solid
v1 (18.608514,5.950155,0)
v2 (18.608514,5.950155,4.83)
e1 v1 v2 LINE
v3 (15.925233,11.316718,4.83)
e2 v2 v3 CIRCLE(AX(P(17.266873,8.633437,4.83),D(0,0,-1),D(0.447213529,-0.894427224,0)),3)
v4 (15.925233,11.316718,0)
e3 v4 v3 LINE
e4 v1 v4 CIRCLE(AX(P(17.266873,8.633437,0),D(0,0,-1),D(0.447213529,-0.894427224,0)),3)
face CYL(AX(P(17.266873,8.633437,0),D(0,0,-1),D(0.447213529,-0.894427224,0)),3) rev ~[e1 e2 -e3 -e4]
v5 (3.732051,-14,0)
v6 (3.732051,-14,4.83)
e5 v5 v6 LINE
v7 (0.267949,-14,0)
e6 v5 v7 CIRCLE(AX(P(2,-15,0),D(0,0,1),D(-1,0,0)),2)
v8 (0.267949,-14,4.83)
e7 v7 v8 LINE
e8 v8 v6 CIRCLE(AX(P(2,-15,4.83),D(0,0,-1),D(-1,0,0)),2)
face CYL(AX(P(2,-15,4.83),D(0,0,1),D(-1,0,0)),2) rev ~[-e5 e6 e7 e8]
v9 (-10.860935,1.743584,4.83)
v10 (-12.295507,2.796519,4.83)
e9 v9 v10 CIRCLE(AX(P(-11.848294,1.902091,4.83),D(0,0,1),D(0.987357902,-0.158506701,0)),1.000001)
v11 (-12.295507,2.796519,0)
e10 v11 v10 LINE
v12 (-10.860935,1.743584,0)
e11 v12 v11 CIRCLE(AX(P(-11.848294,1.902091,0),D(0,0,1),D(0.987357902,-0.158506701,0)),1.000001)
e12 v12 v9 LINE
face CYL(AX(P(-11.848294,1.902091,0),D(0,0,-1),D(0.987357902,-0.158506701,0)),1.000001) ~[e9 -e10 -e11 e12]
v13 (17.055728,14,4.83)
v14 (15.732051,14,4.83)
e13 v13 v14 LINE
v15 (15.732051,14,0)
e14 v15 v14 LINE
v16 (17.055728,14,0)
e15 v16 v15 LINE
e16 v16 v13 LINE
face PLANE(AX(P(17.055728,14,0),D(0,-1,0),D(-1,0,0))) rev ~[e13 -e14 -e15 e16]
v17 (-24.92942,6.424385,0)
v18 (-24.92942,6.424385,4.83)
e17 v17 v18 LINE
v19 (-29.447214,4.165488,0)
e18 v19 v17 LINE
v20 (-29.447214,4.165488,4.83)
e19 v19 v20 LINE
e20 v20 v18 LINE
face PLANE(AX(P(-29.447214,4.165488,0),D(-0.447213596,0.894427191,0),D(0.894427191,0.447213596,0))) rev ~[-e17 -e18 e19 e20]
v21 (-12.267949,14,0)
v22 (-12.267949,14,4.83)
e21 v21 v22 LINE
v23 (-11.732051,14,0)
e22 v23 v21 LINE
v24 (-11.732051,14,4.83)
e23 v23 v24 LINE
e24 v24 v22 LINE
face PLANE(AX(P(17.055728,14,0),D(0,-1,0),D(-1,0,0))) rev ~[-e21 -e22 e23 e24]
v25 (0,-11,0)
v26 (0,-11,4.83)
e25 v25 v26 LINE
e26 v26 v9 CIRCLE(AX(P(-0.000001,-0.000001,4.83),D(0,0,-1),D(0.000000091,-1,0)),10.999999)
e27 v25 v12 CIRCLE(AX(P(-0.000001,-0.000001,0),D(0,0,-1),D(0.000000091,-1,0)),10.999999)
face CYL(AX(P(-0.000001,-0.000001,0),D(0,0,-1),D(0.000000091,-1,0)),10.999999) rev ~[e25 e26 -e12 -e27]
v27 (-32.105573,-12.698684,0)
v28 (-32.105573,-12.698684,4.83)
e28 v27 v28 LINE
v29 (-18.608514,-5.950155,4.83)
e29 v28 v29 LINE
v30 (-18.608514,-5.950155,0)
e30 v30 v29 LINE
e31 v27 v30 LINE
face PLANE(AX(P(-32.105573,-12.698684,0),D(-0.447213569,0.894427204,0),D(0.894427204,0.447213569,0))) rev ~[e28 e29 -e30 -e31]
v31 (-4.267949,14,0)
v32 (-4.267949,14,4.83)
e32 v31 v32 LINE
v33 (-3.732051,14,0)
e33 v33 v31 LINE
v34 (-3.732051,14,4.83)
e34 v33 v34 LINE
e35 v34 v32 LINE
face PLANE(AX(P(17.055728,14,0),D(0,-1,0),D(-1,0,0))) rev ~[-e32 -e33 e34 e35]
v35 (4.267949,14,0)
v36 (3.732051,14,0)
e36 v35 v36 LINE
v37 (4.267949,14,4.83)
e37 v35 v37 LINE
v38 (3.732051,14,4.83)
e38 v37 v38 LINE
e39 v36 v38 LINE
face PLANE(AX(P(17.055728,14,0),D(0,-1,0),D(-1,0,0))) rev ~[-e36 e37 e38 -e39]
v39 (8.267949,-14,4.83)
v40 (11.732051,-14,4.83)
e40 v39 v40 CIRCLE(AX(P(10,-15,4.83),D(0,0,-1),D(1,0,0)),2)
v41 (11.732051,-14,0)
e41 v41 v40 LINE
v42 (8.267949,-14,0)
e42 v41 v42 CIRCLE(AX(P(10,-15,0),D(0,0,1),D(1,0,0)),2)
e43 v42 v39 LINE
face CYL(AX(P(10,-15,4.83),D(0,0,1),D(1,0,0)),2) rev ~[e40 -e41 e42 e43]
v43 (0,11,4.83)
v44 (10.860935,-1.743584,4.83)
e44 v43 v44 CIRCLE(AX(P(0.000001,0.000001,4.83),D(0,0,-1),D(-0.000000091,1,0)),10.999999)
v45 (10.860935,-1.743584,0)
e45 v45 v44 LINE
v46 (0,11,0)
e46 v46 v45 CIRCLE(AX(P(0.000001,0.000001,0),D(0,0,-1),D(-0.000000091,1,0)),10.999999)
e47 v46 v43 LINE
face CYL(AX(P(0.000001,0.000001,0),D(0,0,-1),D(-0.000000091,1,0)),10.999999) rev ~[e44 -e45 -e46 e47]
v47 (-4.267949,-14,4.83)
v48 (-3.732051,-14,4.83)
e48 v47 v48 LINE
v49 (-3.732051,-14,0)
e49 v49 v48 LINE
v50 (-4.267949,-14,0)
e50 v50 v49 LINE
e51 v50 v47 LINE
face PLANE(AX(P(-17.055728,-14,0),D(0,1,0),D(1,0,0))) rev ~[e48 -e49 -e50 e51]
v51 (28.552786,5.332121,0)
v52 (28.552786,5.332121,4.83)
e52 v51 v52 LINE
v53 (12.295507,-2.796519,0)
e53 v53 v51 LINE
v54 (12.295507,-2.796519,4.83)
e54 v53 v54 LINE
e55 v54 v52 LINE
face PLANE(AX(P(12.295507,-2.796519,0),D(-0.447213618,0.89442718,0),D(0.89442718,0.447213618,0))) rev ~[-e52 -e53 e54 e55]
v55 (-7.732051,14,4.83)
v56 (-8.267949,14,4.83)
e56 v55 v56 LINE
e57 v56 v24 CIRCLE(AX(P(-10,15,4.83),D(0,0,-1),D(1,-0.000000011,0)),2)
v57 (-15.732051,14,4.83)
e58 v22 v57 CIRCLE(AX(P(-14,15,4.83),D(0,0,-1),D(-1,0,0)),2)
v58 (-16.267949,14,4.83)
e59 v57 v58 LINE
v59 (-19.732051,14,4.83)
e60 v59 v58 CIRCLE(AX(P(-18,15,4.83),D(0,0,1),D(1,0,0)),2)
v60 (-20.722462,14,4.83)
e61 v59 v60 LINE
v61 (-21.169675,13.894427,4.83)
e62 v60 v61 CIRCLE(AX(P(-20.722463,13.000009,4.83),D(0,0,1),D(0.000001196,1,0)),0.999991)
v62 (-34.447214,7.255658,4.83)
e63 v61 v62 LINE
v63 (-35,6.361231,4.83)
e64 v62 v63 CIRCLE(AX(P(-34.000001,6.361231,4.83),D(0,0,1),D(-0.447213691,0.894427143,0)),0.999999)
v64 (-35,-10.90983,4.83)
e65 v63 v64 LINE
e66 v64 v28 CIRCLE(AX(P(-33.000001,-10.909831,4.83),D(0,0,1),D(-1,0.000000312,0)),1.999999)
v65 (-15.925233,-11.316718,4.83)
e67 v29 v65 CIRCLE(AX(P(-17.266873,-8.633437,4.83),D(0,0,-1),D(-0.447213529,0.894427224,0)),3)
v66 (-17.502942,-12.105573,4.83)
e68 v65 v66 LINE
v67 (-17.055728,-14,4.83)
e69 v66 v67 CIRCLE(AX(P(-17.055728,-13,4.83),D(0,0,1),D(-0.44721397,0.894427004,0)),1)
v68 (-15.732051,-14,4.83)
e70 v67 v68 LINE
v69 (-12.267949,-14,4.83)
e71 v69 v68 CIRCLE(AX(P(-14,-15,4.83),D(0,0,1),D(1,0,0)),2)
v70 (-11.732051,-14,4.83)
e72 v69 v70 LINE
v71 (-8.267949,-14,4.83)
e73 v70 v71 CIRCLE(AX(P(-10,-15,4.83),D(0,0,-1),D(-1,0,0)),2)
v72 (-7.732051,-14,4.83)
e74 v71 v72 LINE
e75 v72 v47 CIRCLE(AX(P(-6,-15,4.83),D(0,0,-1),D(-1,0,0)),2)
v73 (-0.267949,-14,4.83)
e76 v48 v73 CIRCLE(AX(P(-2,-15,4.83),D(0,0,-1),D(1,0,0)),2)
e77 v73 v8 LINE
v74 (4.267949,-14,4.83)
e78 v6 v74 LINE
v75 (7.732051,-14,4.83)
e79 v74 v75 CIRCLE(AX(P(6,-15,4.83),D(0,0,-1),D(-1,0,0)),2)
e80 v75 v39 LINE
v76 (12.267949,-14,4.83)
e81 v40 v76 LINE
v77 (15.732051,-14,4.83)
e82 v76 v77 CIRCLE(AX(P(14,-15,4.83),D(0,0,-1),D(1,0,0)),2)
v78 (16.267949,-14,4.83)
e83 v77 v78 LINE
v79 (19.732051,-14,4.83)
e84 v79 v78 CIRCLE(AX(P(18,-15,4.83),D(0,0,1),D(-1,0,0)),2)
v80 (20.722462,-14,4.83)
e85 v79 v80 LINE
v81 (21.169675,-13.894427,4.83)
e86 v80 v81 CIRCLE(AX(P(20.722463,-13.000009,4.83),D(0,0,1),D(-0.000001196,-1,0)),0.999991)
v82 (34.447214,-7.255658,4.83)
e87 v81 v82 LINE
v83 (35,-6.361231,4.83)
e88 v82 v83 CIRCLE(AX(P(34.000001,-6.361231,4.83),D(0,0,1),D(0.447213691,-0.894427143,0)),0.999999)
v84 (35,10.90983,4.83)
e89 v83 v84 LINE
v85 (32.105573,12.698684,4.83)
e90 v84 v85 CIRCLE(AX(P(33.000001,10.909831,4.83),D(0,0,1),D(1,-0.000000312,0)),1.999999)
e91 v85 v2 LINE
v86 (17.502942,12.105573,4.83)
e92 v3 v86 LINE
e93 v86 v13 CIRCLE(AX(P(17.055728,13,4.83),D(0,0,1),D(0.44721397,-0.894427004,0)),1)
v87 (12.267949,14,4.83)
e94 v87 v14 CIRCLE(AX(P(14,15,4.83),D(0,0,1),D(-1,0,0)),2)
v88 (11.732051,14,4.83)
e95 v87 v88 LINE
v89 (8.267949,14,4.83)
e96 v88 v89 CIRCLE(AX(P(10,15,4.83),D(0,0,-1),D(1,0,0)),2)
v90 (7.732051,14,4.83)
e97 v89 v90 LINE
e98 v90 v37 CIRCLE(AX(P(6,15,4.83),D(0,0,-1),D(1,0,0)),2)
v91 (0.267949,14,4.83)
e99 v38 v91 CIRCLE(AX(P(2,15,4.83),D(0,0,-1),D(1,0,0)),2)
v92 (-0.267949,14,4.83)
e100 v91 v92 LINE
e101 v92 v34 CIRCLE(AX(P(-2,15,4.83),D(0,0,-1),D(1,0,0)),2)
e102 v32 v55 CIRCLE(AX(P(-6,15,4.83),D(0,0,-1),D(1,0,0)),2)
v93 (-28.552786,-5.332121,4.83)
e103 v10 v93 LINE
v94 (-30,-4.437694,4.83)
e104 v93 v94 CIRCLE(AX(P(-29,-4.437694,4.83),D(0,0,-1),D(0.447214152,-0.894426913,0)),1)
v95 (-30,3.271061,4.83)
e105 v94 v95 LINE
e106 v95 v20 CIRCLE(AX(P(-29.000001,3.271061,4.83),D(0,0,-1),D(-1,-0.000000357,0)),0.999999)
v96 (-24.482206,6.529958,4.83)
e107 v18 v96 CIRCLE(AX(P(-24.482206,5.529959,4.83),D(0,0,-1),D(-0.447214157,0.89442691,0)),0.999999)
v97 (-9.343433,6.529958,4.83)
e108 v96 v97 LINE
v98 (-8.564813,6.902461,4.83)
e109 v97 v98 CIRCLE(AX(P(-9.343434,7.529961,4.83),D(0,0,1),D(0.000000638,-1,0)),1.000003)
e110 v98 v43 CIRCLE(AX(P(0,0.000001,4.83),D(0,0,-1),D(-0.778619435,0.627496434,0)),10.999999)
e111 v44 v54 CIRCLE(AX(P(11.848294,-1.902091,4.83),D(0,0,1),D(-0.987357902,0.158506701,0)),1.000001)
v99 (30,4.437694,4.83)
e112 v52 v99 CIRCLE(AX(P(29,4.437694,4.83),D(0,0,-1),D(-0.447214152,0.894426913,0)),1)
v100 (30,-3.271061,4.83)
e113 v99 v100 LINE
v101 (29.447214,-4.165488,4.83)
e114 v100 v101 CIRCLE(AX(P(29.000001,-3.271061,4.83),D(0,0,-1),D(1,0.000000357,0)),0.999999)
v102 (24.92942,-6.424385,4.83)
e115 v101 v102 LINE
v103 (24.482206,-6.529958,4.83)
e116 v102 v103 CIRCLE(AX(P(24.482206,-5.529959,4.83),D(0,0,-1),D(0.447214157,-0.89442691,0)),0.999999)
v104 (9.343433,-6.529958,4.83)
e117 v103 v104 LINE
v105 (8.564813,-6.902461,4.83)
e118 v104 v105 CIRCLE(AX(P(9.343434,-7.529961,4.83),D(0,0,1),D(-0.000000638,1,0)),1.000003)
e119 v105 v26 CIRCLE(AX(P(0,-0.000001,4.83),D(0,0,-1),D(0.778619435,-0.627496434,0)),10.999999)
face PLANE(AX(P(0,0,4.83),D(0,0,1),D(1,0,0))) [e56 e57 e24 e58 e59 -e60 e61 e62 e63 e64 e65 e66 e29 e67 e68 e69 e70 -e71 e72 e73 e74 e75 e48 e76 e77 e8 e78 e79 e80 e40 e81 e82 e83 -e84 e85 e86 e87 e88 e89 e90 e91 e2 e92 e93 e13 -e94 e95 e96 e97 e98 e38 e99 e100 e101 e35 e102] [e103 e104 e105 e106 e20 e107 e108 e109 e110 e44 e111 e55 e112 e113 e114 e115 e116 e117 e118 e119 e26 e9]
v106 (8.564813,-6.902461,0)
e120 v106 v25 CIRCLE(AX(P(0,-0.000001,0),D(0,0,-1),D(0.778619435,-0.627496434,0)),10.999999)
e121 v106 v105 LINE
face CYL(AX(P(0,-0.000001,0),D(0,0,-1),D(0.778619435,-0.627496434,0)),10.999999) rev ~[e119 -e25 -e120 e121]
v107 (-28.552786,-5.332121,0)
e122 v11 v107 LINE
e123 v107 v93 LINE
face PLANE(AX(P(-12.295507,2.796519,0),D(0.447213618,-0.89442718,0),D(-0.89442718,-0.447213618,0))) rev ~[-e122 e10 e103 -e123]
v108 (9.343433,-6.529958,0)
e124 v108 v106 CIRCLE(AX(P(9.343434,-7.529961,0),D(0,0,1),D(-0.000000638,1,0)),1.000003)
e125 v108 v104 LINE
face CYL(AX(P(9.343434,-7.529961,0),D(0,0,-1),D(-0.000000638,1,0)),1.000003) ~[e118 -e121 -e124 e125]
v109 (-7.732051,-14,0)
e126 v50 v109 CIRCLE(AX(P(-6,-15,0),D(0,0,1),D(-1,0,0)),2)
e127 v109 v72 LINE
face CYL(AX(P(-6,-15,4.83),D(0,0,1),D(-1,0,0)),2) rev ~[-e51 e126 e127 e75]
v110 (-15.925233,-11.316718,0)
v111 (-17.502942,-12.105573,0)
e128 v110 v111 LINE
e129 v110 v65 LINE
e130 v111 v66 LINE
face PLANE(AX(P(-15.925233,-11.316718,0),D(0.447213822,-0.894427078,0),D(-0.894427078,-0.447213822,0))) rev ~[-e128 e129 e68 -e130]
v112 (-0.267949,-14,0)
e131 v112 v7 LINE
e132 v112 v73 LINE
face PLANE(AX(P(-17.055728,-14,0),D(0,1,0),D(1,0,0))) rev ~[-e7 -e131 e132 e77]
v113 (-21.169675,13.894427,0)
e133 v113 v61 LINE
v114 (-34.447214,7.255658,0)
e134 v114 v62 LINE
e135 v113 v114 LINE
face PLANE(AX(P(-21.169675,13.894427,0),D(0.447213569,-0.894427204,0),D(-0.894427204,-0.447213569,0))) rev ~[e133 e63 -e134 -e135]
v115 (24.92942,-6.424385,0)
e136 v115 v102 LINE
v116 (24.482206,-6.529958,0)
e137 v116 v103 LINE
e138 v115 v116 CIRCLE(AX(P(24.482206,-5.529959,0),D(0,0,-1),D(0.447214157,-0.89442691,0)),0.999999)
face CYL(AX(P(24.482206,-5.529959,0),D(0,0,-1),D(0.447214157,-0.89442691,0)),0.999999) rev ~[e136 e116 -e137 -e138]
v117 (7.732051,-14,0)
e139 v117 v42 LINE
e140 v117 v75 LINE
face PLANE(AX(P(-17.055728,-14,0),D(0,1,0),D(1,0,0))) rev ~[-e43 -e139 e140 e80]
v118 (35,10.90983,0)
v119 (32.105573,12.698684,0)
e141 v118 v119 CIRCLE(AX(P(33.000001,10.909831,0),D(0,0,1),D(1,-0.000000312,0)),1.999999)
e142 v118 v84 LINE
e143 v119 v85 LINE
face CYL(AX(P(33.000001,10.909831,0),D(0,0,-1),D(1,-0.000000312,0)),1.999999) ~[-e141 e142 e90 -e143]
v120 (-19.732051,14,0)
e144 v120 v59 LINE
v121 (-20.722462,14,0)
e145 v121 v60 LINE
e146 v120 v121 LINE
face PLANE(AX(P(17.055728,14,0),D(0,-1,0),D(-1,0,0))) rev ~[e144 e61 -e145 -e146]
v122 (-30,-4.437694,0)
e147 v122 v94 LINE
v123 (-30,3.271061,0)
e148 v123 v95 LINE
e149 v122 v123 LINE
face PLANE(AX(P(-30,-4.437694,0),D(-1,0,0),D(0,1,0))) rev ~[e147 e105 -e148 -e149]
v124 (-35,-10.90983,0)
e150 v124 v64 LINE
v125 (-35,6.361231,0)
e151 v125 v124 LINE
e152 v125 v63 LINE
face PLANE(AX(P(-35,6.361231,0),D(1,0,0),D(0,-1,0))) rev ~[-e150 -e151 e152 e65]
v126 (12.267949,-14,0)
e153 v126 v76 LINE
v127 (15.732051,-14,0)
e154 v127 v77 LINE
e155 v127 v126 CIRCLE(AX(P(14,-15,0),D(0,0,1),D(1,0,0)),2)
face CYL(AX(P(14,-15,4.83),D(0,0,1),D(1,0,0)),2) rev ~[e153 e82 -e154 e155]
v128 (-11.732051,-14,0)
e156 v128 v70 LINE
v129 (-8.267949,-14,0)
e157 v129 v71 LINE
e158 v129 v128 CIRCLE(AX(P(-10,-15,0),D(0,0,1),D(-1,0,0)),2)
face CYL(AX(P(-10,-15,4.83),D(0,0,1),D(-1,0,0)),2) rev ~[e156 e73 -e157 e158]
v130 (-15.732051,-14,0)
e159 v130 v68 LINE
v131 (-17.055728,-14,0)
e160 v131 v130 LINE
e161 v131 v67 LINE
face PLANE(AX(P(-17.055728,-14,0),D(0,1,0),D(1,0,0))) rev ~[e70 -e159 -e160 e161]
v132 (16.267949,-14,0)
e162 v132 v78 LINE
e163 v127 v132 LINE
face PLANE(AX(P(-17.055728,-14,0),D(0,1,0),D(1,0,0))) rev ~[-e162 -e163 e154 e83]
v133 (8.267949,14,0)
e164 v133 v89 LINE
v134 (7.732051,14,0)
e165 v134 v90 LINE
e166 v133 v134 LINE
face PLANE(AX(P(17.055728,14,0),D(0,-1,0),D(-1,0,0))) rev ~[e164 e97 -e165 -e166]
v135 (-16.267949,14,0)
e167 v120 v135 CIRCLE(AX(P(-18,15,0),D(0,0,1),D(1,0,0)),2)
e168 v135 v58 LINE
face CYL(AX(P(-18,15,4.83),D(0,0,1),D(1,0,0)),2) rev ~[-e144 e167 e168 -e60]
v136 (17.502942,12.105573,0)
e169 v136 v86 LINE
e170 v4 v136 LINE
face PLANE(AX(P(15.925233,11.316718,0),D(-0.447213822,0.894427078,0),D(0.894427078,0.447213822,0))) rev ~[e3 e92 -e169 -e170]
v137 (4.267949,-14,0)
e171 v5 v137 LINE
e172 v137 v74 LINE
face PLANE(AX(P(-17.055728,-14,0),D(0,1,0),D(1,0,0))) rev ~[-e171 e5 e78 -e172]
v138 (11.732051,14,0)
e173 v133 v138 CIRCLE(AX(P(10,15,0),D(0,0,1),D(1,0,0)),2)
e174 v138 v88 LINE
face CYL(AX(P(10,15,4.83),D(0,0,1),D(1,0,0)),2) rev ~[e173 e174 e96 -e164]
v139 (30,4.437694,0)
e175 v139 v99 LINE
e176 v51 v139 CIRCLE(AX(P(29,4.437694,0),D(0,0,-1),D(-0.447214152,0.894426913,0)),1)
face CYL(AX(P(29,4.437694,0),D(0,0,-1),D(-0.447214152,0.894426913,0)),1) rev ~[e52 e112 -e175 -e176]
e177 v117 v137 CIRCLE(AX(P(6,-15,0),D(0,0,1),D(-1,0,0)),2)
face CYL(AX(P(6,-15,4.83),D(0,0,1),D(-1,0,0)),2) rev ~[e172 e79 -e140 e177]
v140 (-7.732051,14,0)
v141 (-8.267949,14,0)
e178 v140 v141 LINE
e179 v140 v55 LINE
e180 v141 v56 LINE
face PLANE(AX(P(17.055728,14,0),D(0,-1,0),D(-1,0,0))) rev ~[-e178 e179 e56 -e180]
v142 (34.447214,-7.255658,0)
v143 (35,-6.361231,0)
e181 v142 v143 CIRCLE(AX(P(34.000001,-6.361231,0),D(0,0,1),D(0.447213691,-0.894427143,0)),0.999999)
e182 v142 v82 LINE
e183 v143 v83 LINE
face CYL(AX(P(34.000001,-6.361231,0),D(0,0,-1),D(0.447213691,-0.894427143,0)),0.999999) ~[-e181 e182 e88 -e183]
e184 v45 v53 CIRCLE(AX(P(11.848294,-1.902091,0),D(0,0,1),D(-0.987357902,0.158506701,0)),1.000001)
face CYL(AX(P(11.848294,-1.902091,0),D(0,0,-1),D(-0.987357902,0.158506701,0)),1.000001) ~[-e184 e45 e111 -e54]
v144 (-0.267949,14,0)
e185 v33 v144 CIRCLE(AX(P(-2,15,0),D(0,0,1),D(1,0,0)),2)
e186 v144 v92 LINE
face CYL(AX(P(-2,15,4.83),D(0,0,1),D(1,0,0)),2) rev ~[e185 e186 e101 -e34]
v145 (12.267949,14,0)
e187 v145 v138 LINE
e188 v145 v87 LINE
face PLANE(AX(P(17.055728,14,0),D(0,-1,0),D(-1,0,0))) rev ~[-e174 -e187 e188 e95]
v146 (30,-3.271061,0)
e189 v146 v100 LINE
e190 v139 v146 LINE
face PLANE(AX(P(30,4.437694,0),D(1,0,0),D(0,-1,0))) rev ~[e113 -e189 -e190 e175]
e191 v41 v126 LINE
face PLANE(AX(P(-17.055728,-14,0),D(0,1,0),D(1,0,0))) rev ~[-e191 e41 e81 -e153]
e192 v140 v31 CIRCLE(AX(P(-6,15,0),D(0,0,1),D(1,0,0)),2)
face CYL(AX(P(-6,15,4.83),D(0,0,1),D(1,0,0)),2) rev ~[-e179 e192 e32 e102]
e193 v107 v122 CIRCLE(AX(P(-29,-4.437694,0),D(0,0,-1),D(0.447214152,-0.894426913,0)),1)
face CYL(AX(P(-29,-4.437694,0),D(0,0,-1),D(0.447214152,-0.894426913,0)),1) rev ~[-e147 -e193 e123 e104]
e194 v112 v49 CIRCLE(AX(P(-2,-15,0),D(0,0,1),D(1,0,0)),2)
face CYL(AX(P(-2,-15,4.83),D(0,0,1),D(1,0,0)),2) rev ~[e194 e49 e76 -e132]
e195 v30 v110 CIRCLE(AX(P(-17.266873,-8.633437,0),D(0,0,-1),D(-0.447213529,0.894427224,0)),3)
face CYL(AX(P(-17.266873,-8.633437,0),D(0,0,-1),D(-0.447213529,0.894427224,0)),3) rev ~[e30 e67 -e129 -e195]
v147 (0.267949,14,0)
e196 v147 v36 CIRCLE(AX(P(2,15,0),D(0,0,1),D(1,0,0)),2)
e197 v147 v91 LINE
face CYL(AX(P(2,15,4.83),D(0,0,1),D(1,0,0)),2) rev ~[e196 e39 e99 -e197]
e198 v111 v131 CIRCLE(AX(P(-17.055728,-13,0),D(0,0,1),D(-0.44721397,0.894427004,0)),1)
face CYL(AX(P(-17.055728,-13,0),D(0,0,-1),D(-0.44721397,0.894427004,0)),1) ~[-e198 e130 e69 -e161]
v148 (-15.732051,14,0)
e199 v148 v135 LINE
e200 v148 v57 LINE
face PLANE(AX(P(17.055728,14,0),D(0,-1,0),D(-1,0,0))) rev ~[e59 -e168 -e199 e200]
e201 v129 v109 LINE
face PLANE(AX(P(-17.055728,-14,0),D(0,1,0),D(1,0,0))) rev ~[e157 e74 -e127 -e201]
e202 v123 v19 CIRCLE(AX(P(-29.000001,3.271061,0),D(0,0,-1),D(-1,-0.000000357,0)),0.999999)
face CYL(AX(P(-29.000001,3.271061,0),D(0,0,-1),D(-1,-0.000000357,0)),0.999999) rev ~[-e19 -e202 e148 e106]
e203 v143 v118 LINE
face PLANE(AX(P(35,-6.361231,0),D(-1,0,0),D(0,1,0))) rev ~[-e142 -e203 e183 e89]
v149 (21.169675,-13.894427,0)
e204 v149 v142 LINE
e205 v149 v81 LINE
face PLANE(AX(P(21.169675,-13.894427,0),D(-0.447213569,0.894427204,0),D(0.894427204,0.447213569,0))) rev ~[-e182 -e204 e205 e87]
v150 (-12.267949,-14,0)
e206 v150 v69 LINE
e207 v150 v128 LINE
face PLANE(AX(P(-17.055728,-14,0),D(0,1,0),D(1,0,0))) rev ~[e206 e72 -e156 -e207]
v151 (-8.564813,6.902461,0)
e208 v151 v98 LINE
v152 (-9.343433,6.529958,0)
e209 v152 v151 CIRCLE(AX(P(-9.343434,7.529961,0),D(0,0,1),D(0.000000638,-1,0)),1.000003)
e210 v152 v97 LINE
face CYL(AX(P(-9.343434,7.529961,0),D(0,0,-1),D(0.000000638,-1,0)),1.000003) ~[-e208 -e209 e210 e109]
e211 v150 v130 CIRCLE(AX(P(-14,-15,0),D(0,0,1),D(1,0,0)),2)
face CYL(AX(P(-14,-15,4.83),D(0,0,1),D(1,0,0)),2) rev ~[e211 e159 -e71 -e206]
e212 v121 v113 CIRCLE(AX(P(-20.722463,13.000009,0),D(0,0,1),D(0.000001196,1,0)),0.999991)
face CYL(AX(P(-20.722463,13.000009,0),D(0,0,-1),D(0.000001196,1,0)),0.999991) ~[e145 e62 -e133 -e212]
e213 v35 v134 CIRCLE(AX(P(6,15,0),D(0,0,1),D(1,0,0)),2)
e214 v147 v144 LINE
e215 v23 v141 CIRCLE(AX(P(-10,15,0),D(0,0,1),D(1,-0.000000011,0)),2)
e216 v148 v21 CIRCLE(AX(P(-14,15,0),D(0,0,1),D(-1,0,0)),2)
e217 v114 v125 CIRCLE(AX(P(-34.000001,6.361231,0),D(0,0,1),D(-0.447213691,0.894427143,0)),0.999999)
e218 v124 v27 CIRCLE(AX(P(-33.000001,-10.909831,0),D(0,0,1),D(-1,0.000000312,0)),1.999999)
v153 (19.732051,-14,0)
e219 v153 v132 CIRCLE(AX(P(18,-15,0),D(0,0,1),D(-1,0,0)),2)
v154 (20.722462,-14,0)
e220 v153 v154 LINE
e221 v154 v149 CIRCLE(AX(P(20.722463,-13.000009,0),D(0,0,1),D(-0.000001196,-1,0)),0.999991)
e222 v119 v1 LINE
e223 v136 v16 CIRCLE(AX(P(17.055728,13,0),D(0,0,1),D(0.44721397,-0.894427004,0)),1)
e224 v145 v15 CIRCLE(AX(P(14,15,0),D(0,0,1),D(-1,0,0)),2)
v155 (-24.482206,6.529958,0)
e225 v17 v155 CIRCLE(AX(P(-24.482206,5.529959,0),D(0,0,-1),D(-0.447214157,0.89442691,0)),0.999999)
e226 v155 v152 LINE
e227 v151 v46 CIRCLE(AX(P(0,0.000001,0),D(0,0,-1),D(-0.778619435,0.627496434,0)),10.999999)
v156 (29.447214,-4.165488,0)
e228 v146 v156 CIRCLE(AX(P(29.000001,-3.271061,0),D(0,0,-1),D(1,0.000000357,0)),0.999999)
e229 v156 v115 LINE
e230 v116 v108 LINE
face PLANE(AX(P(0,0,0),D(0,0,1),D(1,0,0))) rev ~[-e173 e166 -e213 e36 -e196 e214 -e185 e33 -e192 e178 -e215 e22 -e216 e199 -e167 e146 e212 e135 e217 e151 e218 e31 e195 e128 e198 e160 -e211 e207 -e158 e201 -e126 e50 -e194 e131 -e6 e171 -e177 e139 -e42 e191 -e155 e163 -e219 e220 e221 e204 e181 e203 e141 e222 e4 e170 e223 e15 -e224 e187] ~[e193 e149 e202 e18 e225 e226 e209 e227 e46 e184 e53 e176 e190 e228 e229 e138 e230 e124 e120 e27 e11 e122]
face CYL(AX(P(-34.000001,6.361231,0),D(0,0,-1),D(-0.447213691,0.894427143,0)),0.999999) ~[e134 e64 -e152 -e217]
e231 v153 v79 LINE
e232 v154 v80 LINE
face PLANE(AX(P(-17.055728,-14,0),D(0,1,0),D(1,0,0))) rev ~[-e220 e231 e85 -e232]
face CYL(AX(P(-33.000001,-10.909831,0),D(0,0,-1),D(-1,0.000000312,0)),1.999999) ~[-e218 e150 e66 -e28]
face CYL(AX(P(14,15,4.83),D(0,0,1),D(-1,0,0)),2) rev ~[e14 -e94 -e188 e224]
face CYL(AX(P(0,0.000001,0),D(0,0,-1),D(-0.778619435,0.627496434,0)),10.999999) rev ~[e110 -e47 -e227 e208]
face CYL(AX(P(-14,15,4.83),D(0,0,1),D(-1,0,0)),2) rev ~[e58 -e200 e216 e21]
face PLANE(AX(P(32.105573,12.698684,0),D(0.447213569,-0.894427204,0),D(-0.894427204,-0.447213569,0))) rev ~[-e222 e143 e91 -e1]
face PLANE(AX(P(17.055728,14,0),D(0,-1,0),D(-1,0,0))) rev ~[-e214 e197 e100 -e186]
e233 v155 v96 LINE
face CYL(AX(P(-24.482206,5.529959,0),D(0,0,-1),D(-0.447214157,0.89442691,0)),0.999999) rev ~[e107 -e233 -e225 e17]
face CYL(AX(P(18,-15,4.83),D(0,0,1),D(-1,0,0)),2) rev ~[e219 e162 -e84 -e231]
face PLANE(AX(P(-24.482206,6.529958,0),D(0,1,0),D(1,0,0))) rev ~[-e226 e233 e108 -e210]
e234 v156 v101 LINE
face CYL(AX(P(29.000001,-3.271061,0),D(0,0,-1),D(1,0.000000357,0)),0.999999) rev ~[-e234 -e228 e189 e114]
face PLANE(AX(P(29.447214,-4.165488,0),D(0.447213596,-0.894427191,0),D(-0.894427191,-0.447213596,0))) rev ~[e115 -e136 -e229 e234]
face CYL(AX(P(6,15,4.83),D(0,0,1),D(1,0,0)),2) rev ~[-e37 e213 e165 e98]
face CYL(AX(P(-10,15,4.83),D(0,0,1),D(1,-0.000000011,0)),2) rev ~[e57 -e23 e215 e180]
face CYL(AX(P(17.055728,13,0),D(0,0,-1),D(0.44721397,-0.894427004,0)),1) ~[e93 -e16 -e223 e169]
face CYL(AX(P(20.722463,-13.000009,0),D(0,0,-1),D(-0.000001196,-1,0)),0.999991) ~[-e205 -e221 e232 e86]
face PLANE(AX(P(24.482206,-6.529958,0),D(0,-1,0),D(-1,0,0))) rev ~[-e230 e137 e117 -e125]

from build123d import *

# Parameters (mm, degrees)
F1_DEPTH = 4.83
F2_R     = 2
F3_DEPTH = 25


with BuildPart() as f1:
    # F0 (on Top) → F1 (new body)
    with BuildSketch(Plane.XY):
        with BuildLine():
            Line((-17.055728, -14), (0, -14))
            Line((0, -14), (20.722462, -14))
            ThreePointArc((20.722462, -14), (20.952215, -13.973249), (21.169675, -13.894427))
            Line((21.169675, -13.894427), (34.447214, -7.255658))
            ThreePointArc((34.447214, -7.255658), (34.850651, -6.886962), (35, -6.361231))
            Line((35, -6.361231), (35, 10.90983))
            ThreePointArc((35, 10.90983), (34.051462, 12.611132), (32.105573, 12.698684))
            Line((32.105573, 12.698684), (18.608514, 5.950155))
            ThreePointArc((18.608514, 5.950155), (14.583592, 7.291796), (15.925233, 11.316718))
            Line((15.925233, 11.316718), (17.502942, 12.105573))
            ThreePointArc((17.502942, 12.105573), (18.028977, 13.229753), (17.055728, 14))
            Line((17.055728, 14), (0, 14))
            Line((0, 14), (-20.722462, 14))
            ThreePointArc((-20.722462, 14), (-20.952215, 13.973249), (-21.169675, 13.894427))
            Line((-21.169675, 13.894427), (-34.447214, 7.255658))
            ThreePointArc((-34.447214, 7.255658), (-34.850651, 6.886962), (-35, 6.361231))
            Line((-35, 6.361231), (-35, -10.90983))
            ThreePointArc((-35, -10.90983), (-34.051462, -12.611132), (-32.105573, -12.698684))
            Line((-32.105573, -12.698684), (-18.608514, -5.950155))
            ThreePointArc((-18.608514, -5.950155), (-14.583592, -7.291796), (-15.925233, -11.316718))
            Line((-15.925233, -11.316718), (-17.502942, -12.105573))
            ThreePointArc((-17.502942, -12.105573), (-18.028977, -13.229753), (-17.055728, -14))
        make_face()
        with BuildLine():
            ThreePointArc((0, -11), (-8.37196, -7.135145), (-10.860935, 1.743584))
            ThreePointArc((-10.860935, 1.743584), (-11.256595, 2.708251), (-12.295507, 2.796519))
            Line((-12.295507, 2.796519), (-28.552786, -5.332121))
            ThreePointArc((-28.552786, -5.332121), (-29.525731, -5.288345), (-30, -4.437694))
            Line((-30, -4.437694), (-30, 3.271061))
            ThreePointArc((-30, 3.271061), (-29.850651, 3.796792), (-29.447214, 4.165488))
            Line((-29.447214, 4.165488), (-24.92942, 6.424385))
            ThreePointArc((-24.92942, 6.424385), (-24.711959, 6.503207), (-24.482206, 6.529958))
            Line((-24.482206, 6.529958), (-9.343433, 6.529958))
            ThreePointArc((-9.343433, 6.529958), (-8.911864, 6.627878), (-8.564813, 6.902461))
            ThreePointArc((-8.564813, 6.902461), (-4.747259, 9.922879), (0, 11))
            ThreePointArc((0, 11), (8.37196, 7.135145), (10.860935, -1.743584))
            ThreePointArc((10.860935, -1.743584), (11.256595, -2.708251), (12.295507, -2.796519))
            Line((12.295507, -2.796519), (28.552786, 5.332121))
            ThreePointArc((28.552786, 5.332121), (29.525731, 5.288345), (30, 4.437694))
            Line((30, 4.437694), (30, -3.271061))
            ThreePointArc((30, -3.271061), (29.850651, -3.796792), (29.447214, -4.165488))
            Line((29.447214, -4.165488), (24.92942, -6.424385))
            ThreePointArc((24.92942, -6.424385), (24.711959, -6.503207), (24.482206, -6.529958))
            Line((24.482206, -6.529958), (9.343433, -6.529958))
            ThreePointArc((9.343433, -6.529958), (8.911864, -6.627878), (8.564813, -6.902461))
            ThreePointArc((8.564813, -6.902461), (4.747259, -9.922879), (0, -11))
        make_face(mode=Mode.SUBTRACT)
    extrude(amount=F1_DEPTH)

    # F2 (on face) → F3 (cut)
    with BuildSketch(Plane.XY.offset(4.83)):
        with Locations((-18, 15)):
            Circle(F2_R)
        with BuildLine():
            ThreePointArc((16, 15), (14, 17), (12, 15))
            ThreePointArc((12, 15), (14, 13), (16, 15))
        make_face()
        with BuildLine():
            ThreePointArc((12, 15), (10, 17), (8, 15))
            ThreePointArc((8, 15), (10, 13), (12, 15))
        make_face()
        with BuildLine():
            ThreePointArc((8, 15), (6, 17), (4, 15))
            ThreePointArc((4, 15), (6, 13), (8, 15))
        make_face()
        with BuildLine():
            ThreePointArc((4, 15), (2, 17), (0, 15))
            ThreePointArc((0, 15), (2, 13), (4, 15))
        make_face()
        with BuildLine():
            ThreePointArc((0, 15), (-2, 17), (-4, 15))
            ThreePointArc((-4, 15), (-2, 13), (0, 15))
        make_face()
        with BuildLine():
            ThreePointArc((-4, 15), (-6, 17), (-8, 15))
            ThreePointArc((-8, 15), (-6, 13), (-4, 15))
        make_face()
        with BuildLine():
            ThreePointArc((-8, 15), (-10, 17), (-12, 15))
            ThreePointArc((-12, 15), (-10, 13), (-8, 15))
        make_face()
        with BuildLine():
            ThreePointArc((-12, 15), (-14, 17), (-16, 15))
            ThreePointArc((-16, 15), (-14, 13), (-12, 15))
        make_face()
        with BuildLine():
            ThreePointArc((0, -15), (2, -17), (4, -15))
            ThreePointArc((4, -15), (2, -13), (0, -15))
        make_face()
        with Locations((-14, -15)):
            Circle(F2_R)
        with BuildLine():
            ThreePointArc((-12, -15), (-10, -17), (-8, -15))
            ThreePointArc((-8, -15), (-10, -13), (-12, -15))
        make_face()
        with BuildLine():
            ThreePointArc((-8, -15), (-6, -17), (-4, -15))
            ThreePointArc((-4, -15), (-6, -13), (-8, -15))
        make_face()
        with BuildLine():
            ThreePointArc((-4, -15), (-2, -17), (0, -15))
            ThreePointArc((0, -15), (-2, -13), (-4, -15))
        make_face()
        with BuildLine():
            ThreePointArc((20, -15), (18, -13), (16, -15))
            ThreePointArc((16, -15), (18, -17), (20, -15))
        make_face()
        with BuildLine():
            ThreePointArc((16, -15), (14, -13), (12, -15))
            ThreePointArc((12, -15), (14, -17), (16, -15))
        make_face()
        with BuildLine():
            ThreePointArc((12, -15), (10, -13), (8, -15))
            ThreePointArc((8, -15), (10, -17), (12, -15))
        make_face()
        with BuildLine():
            ThreePointArc((8, -15), (6, -13), (4, -15))
            ThreePointArc((4, -15), (6, -17), (8, -15))
        make_face()
    extrude(amount=-F3_DEPTH, mode=Mode.SUBTRACT)


solid = f1.part
